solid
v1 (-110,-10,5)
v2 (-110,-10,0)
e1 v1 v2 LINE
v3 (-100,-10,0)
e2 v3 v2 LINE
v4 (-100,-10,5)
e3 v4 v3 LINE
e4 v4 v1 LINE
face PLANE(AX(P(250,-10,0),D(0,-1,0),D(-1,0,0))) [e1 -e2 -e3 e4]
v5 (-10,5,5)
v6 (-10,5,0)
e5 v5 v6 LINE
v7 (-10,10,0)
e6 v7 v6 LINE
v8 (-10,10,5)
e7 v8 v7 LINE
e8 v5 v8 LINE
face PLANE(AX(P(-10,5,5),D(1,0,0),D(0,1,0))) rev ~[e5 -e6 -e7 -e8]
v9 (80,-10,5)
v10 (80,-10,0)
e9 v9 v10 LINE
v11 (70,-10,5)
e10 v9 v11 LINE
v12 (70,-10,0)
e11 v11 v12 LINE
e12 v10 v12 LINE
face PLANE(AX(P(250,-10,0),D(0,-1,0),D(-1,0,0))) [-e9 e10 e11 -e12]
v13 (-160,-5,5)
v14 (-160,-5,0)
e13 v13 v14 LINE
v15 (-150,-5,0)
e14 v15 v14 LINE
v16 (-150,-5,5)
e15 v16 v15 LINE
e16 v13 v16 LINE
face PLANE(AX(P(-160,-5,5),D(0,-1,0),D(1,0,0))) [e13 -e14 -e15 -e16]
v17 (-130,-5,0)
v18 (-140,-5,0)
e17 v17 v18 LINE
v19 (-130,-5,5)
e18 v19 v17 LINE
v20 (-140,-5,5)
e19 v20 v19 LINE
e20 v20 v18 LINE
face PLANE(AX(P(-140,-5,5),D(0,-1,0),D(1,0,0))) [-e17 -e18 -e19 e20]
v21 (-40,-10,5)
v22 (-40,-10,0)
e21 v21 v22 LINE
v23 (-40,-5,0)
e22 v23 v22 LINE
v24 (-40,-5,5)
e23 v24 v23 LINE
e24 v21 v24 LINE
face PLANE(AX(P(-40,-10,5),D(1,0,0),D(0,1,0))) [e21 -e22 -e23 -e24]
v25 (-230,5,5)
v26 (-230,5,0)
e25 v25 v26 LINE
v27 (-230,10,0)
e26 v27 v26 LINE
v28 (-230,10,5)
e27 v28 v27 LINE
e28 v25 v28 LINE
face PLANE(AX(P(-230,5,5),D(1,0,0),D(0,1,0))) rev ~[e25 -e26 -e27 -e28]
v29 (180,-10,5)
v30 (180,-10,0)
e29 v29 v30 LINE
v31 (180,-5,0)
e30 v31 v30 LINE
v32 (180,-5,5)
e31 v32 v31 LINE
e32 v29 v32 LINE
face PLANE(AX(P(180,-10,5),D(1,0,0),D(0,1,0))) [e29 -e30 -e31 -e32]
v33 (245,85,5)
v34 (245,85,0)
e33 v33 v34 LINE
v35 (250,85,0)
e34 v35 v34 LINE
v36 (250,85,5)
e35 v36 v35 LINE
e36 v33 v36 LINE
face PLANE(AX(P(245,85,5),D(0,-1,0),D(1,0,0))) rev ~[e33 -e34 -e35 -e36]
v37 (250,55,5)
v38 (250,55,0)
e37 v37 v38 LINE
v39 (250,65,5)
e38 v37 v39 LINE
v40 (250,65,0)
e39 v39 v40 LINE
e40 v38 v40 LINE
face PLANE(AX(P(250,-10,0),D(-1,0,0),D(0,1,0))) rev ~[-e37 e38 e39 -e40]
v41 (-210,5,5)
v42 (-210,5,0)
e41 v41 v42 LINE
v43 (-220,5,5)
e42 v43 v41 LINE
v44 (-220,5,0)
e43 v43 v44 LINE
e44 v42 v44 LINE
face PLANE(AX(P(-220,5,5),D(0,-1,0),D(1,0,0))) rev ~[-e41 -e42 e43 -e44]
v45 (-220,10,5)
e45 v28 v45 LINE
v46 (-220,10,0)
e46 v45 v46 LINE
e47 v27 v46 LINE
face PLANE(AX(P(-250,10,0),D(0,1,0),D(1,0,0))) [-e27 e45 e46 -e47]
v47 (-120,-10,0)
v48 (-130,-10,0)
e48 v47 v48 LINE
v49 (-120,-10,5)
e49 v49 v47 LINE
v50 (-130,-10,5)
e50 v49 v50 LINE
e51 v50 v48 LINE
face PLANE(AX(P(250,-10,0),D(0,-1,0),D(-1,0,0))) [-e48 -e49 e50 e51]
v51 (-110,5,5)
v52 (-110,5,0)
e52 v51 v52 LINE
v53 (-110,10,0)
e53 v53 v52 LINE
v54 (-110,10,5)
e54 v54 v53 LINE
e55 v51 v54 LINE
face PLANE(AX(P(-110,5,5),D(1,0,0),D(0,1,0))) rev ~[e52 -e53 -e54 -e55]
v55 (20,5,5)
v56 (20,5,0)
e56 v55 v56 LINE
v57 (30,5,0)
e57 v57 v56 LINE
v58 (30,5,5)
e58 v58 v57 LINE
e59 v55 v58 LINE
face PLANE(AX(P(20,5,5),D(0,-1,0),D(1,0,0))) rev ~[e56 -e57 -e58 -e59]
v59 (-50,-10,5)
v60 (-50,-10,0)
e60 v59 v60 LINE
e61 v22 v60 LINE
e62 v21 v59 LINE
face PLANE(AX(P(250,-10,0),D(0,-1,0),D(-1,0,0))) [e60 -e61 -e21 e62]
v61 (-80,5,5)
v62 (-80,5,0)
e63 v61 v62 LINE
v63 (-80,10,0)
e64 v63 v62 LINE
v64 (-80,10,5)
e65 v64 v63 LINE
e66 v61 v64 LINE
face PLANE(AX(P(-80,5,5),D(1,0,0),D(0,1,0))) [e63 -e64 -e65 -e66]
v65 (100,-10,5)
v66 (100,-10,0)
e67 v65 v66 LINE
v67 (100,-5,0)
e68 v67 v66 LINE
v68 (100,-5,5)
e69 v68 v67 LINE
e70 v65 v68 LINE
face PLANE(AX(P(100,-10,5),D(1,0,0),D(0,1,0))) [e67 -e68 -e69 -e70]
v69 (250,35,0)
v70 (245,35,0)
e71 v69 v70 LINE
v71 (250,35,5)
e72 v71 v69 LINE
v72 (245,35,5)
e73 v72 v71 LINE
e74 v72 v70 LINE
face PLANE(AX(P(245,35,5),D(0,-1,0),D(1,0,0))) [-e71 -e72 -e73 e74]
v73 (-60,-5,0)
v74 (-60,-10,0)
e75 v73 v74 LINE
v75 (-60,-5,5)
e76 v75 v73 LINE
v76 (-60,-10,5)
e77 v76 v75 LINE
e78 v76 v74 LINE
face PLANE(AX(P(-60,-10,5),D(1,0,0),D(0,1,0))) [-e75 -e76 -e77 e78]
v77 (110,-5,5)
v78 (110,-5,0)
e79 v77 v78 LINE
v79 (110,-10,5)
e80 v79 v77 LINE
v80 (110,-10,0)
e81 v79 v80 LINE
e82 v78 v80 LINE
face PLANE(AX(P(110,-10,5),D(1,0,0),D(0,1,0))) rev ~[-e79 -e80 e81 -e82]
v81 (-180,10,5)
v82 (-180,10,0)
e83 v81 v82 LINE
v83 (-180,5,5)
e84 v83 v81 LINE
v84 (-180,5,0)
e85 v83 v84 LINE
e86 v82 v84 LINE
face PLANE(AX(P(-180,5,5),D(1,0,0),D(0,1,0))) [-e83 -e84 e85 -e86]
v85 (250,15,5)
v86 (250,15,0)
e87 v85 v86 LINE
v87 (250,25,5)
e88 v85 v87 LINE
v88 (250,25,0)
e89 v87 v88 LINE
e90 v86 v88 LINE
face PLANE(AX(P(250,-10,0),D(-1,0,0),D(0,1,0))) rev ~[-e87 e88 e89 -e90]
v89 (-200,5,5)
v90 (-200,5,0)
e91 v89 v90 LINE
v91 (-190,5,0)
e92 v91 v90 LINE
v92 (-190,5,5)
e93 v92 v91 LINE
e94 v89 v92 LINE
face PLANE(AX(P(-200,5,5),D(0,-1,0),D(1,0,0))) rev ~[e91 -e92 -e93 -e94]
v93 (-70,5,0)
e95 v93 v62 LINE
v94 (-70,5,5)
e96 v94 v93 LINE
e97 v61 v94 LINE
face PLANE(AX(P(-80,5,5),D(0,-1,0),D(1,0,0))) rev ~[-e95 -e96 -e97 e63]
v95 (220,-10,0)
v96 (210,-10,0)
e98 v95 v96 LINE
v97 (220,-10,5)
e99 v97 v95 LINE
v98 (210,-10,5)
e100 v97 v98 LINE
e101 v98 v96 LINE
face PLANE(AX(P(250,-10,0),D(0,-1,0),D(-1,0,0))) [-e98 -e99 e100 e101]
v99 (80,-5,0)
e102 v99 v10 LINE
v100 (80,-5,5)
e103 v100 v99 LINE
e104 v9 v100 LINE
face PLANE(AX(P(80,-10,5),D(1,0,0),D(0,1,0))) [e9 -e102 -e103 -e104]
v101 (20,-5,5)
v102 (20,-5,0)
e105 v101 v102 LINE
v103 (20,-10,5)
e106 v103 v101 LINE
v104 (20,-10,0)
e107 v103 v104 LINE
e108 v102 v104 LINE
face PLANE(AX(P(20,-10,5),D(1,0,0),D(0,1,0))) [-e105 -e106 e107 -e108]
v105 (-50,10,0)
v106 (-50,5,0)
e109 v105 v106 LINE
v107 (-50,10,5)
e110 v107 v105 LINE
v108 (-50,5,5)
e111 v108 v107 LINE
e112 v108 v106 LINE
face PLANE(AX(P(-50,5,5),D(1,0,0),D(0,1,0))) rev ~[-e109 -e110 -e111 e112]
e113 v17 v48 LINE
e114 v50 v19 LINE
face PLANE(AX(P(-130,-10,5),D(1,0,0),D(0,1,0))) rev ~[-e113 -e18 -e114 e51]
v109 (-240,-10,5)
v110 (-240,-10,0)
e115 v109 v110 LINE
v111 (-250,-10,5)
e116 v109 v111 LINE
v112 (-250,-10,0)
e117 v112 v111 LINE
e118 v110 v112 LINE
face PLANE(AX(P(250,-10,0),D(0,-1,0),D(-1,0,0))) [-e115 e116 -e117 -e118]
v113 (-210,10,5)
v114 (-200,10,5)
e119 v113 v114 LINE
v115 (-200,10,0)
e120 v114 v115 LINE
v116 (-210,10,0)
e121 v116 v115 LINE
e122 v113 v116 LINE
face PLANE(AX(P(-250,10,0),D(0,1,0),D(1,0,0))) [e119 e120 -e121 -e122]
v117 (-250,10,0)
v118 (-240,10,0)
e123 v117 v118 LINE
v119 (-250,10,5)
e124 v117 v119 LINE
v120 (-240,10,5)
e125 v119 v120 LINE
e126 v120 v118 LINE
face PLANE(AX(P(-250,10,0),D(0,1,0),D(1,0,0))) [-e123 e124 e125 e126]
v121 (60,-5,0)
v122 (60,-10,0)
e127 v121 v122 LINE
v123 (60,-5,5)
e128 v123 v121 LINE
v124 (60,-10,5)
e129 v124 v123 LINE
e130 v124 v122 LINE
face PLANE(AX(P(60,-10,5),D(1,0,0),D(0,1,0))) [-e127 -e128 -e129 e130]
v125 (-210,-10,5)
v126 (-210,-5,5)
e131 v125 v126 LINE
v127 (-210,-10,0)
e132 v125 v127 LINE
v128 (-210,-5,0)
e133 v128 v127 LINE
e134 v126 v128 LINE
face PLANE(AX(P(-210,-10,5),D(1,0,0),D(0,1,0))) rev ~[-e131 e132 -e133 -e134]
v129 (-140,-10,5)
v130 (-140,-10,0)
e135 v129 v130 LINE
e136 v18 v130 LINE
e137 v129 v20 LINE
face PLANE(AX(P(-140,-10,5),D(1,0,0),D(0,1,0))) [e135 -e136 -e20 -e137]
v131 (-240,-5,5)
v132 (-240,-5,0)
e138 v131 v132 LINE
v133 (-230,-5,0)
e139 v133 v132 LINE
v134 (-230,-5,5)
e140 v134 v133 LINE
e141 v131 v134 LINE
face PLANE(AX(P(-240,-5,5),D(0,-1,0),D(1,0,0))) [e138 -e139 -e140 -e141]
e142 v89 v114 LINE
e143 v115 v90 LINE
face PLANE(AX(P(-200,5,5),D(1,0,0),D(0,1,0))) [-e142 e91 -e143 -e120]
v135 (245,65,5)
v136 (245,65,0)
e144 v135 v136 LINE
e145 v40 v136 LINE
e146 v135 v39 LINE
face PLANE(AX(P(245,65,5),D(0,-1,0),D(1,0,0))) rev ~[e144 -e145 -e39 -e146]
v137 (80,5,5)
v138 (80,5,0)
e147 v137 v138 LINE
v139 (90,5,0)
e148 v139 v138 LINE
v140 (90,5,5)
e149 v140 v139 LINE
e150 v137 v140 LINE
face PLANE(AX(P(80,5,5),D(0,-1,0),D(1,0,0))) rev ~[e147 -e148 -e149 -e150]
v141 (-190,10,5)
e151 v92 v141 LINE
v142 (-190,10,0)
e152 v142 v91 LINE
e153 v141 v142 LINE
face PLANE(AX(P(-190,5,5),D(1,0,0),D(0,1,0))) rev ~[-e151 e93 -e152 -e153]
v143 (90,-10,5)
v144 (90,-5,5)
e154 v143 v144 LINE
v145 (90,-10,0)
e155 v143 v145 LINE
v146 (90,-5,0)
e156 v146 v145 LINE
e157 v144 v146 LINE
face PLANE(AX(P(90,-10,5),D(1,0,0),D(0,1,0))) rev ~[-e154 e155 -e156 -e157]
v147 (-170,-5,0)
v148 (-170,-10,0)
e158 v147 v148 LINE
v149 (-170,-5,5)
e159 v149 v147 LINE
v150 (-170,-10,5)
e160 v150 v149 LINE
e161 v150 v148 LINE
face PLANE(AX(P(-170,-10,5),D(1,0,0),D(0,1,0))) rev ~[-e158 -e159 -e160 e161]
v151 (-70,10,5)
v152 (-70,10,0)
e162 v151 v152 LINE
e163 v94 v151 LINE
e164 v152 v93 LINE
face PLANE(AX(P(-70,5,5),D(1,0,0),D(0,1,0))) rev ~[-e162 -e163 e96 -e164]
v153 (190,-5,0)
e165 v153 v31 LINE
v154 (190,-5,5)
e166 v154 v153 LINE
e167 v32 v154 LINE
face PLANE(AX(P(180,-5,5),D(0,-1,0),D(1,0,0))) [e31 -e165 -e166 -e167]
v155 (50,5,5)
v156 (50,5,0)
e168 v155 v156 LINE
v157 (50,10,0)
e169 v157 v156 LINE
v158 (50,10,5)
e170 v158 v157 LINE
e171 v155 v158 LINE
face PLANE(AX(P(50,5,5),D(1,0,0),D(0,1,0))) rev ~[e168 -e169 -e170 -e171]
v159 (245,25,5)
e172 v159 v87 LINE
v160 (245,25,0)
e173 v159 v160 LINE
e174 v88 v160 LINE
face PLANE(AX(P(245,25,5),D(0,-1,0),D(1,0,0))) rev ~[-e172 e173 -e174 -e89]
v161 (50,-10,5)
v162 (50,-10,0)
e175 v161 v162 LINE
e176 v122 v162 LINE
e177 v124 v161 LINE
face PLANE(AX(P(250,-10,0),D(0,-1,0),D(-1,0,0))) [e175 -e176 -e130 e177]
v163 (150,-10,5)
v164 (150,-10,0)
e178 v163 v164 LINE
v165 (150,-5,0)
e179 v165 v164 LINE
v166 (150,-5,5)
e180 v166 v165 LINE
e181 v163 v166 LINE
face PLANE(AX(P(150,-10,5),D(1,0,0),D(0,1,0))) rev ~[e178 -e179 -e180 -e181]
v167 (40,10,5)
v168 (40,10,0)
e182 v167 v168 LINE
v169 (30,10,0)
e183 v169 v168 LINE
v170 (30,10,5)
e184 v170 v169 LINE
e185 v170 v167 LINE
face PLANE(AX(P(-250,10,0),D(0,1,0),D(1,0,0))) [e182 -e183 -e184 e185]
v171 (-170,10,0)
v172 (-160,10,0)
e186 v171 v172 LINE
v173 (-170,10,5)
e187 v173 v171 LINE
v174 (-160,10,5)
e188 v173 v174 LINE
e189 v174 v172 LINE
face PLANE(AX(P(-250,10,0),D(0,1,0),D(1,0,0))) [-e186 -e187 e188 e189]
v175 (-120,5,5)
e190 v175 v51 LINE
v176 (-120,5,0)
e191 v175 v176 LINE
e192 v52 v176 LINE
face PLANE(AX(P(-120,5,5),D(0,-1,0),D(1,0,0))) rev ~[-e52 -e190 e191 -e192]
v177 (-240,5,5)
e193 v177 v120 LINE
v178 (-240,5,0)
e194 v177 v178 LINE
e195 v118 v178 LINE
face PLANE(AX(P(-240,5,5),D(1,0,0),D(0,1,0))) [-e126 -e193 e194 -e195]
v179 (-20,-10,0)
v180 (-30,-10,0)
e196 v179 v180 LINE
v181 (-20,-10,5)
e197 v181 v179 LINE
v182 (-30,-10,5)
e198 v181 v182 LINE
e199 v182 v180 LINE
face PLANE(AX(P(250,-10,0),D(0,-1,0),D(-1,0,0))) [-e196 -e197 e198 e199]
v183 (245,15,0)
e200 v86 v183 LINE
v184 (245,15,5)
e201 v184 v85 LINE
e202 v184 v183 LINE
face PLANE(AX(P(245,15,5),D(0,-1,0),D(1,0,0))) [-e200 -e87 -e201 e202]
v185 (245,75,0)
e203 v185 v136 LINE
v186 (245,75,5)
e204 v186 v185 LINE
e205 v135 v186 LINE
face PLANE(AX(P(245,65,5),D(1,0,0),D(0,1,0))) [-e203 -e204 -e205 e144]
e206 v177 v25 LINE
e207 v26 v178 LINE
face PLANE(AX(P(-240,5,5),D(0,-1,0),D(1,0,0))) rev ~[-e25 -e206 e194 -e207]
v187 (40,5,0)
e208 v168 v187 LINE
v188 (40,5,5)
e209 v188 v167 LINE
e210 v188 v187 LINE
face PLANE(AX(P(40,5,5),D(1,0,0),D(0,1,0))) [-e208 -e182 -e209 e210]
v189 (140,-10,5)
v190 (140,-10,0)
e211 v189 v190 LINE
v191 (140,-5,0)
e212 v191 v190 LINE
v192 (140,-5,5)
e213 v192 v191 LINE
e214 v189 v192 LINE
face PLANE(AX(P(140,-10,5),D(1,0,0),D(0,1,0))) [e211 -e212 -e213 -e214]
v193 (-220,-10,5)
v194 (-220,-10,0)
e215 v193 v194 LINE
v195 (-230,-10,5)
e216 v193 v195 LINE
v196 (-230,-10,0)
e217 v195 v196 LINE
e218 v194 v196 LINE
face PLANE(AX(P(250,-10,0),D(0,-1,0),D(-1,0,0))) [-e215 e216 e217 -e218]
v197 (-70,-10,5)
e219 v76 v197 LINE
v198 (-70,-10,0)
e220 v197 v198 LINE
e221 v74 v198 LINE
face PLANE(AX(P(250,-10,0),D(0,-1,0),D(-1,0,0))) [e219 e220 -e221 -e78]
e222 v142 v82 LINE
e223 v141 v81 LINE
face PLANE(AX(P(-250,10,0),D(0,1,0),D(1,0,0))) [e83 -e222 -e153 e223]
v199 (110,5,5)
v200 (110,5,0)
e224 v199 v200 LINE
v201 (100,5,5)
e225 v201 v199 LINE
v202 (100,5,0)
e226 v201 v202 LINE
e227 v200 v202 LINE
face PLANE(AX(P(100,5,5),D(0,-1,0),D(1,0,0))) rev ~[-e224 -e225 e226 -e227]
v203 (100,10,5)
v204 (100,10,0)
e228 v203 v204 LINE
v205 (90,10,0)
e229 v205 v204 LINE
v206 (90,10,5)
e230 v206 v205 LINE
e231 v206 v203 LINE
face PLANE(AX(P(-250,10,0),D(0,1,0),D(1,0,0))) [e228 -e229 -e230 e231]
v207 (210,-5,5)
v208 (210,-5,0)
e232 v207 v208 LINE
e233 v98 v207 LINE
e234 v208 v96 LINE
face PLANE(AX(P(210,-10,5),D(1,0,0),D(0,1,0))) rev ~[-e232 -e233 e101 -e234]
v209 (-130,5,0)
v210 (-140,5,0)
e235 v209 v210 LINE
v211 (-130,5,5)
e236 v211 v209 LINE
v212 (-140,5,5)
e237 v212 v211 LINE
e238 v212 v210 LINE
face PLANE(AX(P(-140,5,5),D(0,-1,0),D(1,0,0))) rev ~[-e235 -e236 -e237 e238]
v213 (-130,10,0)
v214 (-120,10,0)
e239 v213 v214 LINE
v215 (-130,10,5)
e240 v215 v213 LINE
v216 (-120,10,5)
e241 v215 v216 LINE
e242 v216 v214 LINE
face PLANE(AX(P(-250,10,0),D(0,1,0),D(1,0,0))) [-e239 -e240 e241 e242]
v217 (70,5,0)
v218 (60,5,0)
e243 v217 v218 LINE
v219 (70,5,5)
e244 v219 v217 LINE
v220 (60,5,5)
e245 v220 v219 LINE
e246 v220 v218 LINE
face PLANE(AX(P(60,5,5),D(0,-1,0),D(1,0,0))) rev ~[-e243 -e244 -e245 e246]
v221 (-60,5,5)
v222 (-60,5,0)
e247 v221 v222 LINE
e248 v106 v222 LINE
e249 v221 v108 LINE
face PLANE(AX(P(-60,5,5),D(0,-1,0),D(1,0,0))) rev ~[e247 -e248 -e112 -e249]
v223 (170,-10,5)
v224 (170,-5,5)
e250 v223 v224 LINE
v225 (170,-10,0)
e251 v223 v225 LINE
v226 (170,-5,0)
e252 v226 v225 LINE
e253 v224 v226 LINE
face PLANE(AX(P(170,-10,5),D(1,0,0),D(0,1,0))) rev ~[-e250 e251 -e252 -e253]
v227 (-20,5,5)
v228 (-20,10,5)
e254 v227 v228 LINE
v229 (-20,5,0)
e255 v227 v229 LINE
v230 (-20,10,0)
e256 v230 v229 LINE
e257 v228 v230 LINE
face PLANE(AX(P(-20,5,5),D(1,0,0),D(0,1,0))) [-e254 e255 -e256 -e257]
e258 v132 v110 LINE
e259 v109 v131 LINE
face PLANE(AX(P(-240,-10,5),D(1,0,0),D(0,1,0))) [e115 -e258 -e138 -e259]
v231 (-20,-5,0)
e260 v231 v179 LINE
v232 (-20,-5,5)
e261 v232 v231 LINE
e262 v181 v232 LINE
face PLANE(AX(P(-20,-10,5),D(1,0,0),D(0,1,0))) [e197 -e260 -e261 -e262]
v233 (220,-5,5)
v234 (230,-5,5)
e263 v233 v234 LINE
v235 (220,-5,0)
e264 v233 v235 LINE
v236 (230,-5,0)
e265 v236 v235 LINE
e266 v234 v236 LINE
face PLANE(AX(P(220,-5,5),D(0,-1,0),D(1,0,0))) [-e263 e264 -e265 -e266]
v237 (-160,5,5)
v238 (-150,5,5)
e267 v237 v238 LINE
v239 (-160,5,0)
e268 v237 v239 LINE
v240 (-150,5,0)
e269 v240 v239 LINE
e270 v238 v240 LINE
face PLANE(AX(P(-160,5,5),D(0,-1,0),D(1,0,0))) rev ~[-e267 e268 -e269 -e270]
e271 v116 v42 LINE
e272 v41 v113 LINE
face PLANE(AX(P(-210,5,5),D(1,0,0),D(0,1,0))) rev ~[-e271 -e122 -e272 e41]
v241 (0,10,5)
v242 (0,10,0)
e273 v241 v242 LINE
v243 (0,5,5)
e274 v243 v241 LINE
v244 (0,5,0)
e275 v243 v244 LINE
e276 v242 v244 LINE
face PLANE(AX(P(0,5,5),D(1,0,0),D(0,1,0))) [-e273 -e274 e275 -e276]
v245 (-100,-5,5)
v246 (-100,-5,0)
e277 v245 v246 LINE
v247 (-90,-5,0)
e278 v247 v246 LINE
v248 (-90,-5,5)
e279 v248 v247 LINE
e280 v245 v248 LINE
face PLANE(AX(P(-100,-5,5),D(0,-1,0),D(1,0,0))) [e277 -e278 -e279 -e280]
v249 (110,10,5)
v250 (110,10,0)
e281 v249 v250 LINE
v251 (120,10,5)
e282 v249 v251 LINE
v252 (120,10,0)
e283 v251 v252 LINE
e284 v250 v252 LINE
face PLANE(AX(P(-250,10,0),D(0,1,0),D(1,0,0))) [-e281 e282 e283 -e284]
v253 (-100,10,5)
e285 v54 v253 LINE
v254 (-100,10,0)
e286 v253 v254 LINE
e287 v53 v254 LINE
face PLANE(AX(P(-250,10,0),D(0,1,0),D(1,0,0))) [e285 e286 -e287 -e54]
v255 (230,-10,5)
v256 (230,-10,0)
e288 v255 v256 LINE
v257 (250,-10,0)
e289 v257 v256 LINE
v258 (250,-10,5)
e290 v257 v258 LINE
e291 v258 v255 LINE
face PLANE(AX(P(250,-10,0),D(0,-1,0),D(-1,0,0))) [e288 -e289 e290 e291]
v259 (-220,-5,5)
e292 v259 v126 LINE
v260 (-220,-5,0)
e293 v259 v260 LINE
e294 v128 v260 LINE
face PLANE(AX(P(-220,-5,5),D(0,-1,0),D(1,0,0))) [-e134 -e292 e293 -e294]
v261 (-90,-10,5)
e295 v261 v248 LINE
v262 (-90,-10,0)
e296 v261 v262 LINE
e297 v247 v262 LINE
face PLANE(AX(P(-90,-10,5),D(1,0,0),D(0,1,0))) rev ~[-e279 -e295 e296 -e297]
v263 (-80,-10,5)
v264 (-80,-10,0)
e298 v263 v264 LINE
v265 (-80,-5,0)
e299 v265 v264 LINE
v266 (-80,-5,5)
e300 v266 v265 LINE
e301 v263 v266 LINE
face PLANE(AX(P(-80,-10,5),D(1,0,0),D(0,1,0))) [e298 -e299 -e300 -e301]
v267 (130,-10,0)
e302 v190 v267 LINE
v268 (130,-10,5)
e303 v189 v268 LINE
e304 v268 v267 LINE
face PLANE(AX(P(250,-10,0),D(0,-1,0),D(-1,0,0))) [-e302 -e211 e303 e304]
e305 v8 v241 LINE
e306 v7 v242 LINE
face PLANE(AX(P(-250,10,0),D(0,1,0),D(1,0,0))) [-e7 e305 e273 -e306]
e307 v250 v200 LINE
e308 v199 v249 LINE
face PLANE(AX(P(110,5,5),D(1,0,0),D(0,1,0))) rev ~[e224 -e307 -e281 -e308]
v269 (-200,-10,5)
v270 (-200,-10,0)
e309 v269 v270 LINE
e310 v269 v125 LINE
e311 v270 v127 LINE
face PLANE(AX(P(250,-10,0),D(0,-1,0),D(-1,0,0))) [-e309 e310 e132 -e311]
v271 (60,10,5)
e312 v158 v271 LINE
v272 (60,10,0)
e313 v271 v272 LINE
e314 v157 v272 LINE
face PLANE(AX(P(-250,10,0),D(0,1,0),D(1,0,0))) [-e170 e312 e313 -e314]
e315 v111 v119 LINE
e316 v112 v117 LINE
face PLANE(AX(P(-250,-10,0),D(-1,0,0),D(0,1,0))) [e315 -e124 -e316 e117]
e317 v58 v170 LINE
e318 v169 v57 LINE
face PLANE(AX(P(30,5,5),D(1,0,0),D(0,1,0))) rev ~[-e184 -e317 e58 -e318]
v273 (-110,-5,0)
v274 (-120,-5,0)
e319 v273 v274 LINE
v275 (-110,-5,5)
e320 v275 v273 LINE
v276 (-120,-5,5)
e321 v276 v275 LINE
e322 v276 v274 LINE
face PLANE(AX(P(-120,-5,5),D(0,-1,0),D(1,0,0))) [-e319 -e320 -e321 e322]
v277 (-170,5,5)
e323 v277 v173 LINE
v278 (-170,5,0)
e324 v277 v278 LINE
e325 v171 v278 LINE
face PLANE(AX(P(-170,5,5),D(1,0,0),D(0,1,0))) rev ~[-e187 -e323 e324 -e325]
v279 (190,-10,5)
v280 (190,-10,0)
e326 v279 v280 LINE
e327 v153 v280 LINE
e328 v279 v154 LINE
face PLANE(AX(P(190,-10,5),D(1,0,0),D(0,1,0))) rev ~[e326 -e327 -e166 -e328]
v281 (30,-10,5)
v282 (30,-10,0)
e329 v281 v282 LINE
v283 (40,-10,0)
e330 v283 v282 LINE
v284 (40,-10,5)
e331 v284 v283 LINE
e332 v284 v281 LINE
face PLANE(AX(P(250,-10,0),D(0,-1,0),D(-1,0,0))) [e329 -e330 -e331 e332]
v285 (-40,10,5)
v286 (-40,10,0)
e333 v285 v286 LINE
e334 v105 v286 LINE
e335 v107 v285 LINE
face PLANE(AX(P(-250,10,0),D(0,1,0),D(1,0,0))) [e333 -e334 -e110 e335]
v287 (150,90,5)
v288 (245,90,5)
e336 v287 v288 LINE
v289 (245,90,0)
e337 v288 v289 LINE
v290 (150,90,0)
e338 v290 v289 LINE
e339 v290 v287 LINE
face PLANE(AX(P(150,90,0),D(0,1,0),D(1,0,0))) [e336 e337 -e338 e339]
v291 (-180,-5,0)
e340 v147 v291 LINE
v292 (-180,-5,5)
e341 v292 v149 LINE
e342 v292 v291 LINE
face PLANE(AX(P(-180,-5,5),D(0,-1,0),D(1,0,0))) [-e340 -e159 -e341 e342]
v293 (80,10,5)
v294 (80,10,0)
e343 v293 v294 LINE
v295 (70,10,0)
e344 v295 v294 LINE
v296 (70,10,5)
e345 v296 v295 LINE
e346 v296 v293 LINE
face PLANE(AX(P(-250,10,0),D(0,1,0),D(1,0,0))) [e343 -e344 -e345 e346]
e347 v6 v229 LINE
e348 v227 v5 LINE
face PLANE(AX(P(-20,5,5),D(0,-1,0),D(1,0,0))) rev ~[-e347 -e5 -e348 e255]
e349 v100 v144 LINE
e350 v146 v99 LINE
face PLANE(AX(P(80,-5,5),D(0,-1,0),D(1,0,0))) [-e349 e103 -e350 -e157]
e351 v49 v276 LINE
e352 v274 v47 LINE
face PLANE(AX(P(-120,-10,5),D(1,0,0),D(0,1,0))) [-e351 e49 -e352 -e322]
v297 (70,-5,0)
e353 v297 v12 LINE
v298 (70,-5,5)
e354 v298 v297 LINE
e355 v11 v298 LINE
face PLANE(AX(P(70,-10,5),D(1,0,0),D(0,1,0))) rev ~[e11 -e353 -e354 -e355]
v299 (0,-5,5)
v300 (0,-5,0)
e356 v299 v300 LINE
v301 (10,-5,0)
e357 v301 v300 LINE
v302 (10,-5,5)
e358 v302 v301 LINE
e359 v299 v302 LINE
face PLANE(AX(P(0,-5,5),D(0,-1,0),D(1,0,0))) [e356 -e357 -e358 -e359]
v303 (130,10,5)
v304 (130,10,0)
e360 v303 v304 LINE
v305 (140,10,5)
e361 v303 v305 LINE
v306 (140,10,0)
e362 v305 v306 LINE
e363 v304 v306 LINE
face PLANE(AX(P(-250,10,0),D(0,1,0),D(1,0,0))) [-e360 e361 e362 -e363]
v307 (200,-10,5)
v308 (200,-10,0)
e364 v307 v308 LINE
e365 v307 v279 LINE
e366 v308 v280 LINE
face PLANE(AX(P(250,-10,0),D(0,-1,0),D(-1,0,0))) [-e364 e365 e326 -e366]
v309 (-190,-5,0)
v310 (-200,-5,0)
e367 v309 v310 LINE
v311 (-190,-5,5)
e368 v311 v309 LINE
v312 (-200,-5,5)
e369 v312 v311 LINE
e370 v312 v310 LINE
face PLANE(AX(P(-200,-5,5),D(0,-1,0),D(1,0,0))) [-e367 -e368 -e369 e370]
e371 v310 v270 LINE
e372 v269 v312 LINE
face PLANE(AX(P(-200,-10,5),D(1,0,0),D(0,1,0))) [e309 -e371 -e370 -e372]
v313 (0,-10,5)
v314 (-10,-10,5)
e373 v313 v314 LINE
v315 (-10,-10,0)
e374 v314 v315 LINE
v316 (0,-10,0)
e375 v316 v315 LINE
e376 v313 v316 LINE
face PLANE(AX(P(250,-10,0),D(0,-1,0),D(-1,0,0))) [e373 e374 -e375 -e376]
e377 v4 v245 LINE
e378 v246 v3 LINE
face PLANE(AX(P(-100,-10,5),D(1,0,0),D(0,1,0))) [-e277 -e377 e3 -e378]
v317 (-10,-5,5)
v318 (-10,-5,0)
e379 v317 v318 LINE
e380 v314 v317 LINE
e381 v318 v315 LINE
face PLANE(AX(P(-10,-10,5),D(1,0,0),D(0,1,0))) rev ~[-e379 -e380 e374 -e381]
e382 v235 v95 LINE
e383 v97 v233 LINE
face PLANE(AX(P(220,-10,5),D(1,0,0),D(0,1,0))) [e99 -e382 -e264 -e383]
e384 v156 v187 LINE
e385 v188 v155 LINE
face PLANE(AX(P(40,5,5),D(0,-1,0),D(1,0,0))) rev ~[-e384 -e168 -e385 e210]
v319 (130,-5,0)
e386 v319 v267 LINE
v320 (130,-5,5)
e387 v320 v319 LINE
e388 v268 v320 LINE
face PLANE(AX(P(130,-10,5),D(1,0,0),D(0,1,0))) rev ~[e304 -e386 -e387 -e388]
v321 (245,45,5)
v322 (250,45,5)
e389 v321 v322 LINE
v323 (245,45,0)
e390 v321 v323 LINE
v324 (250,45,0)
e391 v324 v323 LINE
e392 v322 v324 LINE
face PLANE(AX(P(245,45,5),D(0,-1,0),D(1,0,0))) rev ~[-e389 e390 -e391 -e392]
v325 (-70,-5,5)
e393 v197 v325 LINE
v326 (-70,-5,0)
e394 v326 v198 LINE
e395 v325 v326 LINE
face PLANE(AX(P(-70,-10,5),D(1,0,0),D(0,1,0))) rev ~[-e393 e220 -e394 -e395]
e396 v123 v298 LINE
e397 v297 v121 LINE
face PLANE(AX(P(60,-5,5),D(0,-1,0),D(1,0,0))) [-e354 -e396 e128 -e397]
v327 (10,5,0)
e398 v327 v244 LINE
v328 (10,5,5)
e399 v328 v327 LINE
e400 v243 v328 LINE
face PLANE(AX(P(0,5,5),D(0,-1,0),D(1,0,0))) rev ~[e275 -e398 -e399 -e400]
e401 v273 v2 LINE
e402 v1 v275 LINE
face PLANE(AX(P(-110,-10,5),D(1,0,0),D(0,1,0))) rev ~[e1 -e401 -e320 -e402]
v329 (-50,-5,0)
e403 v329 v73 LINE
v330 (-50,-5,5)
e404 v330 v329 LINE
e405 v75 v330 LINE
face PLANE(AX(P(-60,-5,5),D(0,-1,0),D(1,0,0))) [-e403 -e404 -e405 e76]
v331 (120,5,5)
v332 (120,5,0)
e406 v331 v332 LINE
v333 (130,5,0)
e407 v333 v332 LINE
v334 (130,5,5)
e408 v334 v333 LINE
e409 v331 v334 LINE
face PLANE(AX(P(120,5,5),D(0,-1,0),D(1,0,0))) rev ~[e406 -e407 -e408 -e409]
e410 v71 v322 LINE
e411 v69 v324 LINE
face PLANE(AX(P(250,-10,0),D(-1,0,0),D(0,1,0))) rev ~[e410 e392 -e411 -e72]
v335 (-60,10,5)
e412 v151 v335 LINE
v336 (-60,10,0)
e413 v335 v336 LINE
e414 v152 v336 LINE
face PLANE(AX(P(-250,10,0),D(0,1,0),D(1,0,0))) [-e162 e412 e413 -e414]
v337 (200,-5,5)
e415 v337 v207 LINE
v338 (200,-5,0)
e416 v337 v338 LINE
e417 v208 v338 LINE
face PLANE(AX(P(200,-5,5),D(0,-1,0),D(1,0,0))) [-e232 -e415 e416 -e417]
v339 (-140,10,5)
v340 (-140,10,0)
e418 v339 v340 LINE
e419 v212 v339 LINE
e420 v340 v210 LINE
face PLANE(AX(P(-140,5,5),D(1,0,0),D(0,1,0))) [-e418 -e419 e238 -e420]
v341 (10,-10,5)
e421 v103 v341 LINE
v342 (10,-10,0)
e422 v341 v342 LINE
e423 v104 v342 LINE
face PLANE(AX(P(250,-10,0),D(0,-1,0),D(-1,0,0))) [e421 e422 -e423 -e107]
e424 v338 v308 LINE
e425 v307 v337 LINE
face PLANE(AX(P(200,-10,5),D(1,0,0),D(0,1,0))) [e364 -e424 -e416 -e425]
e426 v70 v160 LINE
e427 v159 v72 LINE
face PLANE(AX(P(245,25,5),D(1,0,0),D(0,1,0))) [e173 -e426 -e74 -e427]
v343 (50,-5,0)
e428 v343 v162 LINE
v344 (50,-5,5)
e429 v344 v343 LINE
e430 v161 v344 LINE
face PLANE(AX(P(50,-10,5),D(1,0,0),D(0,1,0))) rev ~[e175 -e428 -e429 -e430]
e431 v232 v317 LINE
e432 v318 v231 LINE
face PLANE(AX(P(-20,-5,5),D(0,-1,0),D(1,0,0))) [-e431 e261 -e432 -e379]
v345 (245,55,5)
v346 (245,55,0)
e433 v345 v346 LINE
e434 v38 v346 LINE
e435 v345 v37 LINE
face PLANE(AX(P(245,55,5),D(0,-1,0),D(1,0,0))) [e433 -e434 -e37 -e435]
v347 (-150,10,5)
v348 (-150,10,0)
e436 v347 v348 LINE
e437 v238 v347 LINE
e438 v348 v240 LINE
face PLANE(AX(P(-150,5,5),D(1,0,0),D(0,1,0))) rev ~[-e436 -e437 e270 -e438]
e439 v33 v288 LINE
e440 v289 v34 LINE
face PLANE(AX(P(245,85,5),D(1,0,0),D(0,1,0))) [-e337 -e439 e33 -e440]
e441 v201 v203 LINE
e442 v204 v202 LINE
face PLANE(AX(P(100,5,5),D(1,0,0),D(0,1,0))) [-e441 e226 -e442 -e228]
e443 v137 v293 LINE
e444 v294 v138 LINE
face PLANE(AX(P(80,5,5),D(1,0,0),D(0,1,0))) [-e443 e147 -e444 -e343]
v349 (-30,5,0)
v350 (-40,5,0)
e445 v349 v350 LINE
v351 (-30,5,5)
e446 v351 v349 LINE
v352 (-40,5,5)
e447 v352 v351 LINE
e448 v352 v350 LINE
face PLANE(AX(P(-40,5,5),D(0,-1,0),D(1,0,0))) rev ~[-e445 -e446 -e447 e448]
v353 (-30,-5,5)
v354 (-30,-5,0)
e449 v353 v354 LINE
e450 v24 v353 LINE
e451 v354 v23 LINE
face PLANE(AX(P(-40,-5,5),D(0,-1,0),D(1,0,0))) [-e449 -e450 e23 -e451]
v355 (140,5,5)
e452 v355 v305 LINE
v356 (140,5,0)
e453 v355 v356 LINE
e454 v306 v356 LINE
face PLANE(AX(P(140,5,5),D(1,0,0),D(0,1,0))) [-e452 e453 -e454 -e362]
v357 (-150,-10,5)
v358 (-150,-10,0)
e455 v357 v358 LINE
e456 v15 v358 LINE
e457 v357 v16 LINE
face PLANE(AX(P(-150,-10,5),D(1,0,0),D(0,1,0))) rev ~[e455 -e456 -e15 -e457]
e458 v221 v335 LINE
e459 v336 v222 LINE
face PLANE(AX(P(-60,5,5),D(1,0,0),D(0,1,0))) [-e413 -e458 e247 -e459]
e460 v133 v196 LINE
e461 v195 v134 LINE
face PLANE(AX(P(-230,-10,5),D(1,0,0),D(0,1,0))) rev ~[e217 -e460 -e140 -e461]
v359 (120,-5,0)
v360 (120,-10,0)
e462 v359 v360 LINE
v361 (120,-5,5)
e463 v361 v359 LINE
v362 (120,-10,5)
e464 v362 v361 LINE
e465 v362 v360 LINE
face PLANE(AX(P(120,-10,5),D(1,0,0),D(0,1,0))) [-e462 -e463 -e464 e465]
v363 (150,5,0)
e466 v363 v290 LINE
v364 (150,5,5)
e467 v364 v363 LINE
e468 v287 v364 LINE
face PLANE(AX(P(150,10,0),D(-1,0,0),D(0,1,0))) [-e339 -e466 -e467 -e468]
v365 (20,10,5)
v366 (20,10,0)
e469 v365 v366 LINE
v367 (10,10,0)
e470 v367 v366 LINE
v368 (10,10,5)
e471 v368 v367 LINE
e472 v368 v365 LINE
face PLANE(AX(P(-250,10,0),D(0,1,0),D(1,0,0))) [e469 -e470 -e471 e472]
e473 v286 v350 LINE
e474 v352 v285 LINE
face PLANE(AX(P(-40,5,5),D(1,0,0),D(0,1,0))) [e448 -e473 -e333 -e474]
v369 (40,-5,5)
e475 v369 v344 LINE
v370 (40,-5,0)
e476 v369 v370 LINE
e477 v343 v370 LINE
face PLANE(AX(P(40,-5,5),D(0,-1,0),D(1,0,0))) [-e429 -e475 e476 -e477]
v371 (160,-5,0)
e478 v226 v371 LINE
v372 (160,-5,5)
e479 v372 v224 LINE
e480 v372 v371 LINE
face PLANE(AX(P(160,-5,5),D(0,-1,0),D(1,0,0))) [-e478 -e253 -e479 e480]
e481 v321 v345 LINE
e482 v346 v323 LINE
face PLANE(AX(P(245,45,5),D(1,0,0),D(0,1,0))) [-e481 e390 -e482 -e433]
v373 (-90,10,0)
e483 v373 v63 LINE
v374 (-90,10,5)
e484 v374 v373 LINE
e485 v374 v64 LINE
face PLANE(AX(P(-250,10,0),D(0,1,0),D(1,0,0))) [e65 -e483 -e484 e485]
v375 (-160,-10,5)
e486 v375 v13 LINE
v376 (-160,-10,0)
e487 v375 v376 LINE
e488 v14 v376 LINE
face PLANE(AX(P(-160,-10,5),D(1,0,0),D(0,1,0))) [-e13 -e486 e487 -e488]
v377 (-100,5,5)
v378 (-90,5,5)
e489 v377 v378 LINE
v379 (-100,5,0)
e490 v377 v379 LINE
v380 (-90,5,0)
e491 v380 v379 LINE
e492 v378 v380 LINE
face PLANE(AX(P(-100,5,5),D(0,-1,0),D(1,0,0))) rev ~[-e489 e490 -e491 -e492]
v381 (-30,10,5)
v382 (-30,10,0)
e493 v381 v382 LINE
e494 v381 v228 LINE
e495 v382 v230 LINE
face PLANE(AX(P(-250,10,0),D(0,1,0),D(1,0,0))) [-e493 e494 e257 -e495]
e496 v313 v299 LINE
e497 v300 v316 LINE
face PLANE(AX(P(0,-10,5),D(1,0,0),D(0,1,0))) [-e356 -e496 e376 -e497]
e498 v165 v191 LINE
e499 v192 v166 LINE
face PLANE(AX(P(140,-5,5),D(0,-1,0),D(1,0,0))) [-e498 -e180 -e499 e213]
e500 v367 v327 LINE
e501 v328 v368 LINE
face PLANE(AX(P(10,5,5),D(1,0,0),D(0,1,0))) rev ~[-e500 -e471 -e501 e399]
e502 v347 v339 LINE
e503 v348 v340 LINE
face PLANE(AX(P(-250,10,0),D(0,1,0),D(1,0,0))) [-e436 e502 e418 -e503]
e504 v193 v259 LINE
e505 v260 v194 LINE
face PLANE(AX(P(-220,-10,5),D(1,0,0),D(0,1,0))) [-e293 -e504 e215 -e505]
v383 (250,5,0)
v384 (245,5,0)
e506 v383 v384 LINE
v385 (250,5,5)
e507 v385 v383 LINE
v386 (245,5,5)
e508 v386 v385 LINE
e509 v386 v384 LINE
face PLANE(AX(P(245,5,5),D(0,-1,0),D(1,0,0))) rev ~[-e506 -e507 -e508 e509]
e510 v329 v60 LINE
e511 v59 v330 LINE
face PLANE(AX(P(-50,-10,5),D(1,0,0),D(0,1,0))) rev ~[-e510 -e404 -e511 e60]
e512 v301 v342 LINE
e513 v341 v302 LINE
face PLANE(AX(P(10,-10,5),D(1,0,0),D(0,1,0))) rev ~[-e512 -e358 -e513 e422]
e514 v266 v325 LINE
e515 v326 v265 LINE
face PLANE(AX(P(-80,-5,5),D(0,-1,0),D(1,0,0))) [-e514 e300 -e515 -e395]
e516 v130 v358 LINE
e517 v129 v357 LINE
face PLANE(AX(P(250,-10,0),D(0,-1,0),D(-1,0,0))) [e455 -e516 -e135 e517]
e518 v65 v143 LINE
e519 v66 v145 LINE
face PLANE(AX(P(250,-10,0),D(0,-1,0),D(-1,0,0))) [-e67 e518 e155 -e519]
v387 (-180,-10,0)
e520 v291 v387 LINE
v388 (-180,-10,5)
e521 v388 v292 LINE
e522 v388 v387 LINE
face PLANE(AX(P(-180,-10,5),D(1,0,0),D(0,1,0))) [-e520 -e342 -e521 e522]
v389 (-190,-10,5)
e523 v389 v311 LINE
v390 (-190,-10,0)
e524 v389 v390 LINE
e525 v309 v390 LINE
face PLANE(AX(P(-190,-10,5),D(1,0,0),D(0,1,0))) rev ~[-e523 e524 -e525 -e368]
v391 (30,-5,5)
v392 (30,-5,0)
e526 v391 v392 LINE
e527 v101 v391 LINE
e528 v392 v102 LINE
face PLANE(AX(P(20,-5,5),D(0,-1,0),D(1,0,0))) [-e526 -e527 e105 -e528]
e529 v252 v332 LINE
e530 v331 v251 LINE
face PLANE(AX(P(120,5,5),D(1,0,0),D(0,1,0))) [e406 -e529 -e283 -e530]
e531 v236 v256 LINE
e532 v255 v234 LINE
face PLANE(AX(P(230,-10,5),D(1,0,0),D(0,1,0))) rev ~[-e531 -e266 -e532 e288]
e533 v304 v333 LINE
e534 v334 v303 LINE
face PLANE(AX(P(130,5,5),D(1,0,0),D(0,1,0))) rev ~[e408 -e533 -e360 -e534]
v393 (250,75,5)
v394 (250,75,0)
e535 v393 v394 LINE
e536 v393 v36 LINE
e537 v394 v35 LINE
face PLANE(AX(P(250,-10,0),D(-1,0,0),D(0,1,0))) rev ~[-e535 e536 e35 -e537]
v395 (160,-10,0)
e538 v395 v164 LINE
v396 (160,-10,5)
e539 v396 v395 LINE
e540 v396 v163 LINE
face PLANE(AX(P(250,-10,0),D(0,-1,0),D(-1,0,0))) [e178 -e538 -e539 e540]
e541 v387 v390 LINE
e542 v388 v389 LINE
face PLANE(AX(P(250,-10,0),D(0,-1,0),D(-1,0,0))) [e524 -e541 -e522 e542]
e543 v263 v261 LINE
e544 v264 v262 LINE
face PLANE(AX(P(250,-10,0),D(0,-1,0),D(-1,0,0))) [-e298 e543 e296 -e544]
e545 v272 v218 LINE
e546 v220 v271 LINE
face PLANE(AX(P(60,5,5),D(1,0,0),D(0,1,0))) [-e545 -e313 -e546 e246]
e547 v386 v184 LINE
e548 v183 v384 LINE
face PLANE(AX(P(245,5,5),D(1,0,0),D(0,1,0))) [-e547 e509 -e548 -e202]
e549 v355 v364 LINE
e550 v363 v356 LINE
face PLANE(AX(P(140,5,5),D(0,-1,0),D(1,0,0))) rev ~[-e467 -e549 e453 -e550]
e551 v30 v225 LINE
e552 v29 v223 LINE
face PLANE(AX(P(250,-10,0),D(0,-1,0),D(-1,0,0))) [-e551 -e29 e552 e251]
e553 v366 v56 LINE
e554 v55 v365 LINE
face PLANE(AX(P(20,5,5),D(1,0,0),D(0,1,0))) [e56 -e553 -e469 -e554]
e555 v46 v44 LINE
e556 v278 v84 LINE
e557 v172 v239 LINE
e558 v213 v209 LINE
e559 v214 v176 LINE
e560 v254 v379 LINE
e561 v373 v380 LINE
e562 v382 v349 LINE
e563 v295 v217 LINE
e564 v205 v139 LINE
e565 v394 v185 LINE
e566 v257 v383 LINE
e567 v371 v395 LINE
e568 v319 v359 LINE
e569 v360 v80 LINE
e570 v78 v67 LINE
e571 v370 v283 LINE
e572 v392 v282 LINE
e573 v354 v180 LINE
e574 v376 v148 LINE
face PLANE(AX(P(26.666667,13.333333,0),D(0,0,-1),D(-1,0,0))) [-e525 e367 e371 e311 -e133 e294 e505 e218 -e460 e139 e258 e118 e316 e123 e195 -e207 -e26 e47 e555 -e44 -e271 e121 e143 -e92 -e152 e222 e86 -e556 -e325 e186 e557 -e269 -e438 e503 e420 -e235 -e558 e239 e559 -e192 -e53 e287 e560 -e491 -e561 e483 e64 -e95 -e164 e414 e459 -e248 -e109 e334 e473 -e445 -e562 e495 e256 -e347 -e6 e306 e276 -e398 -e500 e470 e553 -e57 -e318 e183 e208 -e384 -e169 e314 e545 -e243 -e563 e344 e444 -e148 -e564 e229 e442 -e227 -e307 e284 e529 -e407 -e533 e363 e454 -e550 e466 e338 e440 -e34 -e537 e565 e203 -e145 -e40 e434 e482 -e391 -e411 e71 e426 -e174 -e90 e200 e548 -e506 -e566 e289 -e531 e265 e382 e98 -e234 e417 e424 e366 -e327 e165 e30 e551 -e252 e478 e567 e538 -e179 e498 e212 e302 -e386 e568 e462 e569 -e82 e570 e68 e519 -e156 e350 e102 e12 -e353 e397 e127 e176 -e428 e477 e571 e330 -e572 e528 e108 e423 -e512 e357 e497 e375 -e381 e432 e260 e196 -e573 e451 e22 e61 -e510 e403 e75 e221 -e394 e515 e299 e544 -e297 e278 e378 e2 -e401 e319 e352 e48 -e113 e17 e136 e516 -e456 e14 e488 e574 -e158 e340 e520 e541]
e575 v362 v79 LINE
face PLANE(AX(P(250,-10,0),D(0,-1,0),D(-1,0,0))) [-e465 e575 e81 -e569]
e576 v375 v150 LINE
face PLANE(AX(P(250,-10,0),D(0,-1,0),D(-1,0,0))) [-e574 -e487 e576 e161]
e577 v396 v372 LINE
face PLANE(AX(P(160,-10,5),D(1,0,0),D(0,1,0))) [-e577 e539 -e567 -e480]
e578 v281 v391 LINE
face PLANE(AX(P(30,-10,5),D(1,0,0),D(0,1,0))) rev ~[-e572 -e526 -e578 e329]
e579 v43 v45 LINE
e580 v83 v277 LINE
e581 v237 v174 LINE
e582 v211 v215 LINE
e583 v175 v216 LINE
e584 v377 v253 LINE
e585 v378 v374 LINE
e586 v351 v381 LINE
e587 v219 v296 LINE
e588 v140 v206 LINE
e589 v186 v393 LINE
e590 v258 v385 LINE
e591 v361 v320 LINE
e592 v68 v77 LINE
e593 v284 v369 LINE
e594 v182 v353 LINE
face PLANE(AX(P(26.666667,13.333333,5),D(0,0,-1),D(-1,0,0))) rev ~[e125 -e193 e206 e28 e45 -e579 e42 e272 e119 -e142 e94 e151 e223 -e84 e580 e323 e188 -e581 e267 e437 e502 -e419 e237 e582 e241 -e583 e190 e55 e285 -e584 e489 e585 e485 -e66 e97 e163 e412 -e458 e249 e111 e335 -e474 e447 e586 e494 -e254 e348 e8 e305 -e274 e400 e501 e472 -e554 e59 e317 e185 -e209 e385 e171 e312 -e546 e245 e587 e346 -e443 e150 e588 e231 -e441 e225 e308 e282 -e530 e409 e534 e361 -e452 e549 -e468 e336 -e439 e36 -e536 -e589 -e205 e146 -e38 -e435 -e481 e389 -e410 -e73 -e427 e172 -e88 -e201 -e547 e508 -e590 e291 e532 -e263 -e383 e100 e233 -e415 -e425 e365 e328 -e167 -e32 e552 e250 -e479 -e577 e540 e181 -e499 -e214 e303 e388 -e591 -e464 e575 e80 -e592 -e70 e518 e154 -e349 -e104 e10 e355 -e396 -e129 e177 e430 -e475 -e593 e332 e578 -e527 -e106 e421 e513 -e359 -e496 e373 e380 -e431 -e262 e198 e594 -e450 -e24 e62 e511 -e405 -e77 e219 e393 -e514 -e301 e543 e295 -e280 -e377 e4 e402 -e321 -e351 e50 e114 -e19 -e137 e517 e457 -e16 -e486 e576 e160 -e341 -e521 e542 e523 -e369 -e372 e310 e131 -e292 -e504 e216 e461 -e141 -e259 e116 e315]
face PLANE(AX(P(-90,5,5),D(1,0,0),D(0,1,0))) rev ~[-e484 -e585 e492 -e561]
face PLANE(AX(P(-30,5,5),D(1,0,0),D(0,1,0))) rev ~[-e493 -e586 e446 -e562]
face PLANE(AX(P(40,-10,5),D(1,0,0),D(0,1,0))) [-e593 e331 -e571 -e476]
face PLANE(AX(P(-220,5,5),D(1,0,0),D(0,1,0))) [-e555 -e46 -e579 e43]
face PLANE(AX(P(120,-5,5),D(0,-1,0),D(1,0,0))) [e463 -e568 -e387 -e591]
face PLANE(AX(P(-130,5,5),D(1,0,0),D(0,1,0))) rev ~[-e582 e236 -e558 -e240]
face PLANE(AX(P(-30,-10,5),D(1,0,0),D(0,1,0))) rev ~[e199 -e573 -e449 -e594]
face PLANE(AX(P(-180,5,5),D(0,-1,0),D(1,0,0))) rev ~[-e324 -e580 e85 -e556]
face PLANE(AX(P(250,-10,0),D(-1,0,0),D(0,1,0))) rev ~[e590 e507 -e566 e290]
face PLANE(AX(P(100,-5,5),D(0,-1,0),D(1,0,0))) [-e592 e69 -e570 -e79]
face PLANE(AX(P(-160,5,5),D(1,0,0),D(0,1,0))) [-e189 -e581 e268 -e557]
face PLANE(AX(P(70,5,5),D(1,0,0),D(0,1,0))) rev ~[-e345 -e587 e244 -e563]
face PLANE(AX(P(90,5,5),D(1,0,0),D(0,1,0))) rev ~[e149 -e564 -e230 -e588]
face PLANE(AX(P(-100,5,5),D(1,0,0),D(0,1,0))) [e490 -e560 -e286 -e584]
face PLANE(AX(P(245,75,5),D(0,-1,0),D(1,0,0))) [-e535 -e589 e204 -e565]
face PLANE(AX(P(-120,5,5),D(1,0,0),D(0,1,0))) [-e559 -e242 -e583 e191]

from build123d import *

# Parameters (mm, degrees)
BOSS_EXTRU_1_DEPTH      = 5
ESQUISSE2_W             = 10
ESQUISSE2_H             = 5
ESQUISSE2_W_2           = 5
ESQUISSE2_H_2           = 10
ENL_V_MAT_EXTRU_2_DEPTH = 266.753645318


with BuildPart() as part:
    # Esquisse1 → Boss.-Extru.1 (new body)
    with BuildSketch(Plane.XY):
        Polygon((-250, 10), (150, 10), (150, 90), (250, 90), (250, 10), (250, -10), (-250, -10), align=None)
    extrude(amount=BOSS_EXTRU_1_DEPTH)

    # Esquisse2 → Enlèv. mat.-Extru.2 (cut, through all)
    with BuildSketch(Plane.XY.offset(5)):
        with Locations((-235, 7.5)):
            Rectangle(ESQUISSE2_W, ESQUISSE2_H)
        with Locations((-235, -7.5)):
            Rectangle(ESQUISSE2_W, ESQUISSE2_H)
        with Locations((-215, 7.5)):
            Rectangle(ESQUISSE2_W, ESQUISSE2_H)
        with Locations((-215, -7.5)):
            Rectangle(ESQUISSE2_W, ESQUISSE2_H)
        with Locations((-195, 7.5)):
            Rectangle(ESQUISSE2_W, ESQUISSE2_H)
        with Locations((-195, -7.5)):
            Rectangle(ESQUISSE2_W, ESQUISSE2_H)
        with Locations((-175, 7.5)):
            Rectangle(ESQUISSE2_W, ESQUISSE2_H)
        with Locations((-175, -7.5)):
            Rectangle(ESQUISSE2_W, ESQUISSE2_H)
        with Locations((-155, 7.5)):
            Rectangle(ESQUISSE2_W, ESQUISSE2_H)
        with Locations((-155, -7.5)):
            Rectangle(ESQUISSE2_W, ESQUISSE2_H)
        with Locations((-135, 7.5)):
            Rectangle(ESQUISSE2_W, ESQUISSE2_H)
        with Locations((-135, -7.5)):
            Rectangle(ESQUISSE2_W, ESQUISSE2_H)
        with Locations((-115, 7.5)):
            Rectangle(ESQUISSE2_W, ESQUISSE2_H)
        with Locations((-115, -7.5)):
            Rectangle(ESQUISSE2_W, ESQUISSE2_H)
        with Locations((-95, 7.5)):
            Rectangle(ESQUISSE2_W, ESQUISSE2_H)
        with Locations((-95, -7.5)):
            Rectangle(ESQUISSE2_W, ESQUISSE2_H)
        with Locations((-75, 7.5)):
            Rectangle(ESQUISSE2_W, ESQUISSE2_H)
        with Locations((-75, -7.5)):
            Rectangle(ESQUISSE2_W, ESQUISSE2_H)
        with Locations((-55, 7.5)):
            Rectangle(ESQUISSE2_W, ESQUISSE2_H)
        with Locations((-55, -7.5)):
            Rectangle(ESQUISSE2_W, ESQUISSE2_H)
        with Locations((-35, 7.5)):
            Rectangle(ESQUISSE2_W, ESQUISSE2_H)
        with Locations((-35, -7.5)):
            Rectangle(ESQUISSE2_W, ESQUISSE2_H)
        with Locations((-15, 7.5)):
            Rectangle(ESQUISSE2_W, ESQUISSE2_H)
        with Locations((-15, -7.5)):
            Rectangle(ESQUISSE2_W, ESQUISSE2_H)
        with Locations((5, 7.5)):
            Rectangle(ESQUISSE2_W, ESQUISSE2_H)
        with Locations((5, -7.5)):
            Rectangle(ESQUISSE2_W, ESQUISSE2_H)
        with Locations((25, 7.5)):
            Rectangle(ESQUISSE2_W, ESQUISSE2_H)
        with Locations((25, -7.5)):
            Rectangle(ESQUISSE2_W, ESQUISSE2_H)
        with Locations((45, 7.5)):
            Rectangle(ESQUISSE2_W, ESQUISSE2_H)
        with Locations((45, -7.5)):
            Rectangle(ESQUISSE2_W, ESQUISSE2_H)
        with Locations((65, 7.5)):
            Rectangle(ESQUISSE2_W, ESQUISSE2_H)
        with Locations((65, -7.5)):
            Rectangle(ESQUISSE2_W, ESQUISSE2_H)
        with Locations((85, 7.5)):
            Rectangle(ESQUISSE2_W, ESQUISSE2_H)
        with Locations((85, -7.5)):
            Rectangle(ESQUISSE2_W, ESQUISSE2_H)
        with Locations((105, 7.5)):
            Rectangle(ESQUISSE2_W, ESQUISSE2_H)
        with Locations((105, -7.5)):
            Rectangle(ESQUISSE2_W, ESQUISSE2_H)
        with Locations((125, 7.5)):
            Rectangle(ESQUISSE2_W, ESQUISSE2_H)
        with Locations((125, -7.5)):
            Rectangle(ESQUISSE2_W, ESQUISSE2_H)
        with Locations((145, 7.5)):
            Rectangle(ESQUISSE2_W, ESQUISSE2_H)
        with Locations((145, -7.5)):
            Rectangle(ESQUISSE2_W, ESQUISSE2_H)
        with Locations((165, -7.5)):
            Rectangle(ESQUISSE2_W, ESQUISSE2_H)
        with Locations((185, -7.5)):
            Rectangle(ESQUISSE2_W, ESQUISSE2_H)
        with Locations((205, -7.5)):
            Rectangle(ESQUISSE2_W, ESQUISSE2_H)
        with Locations((225, -7.5)):
            Rectangle(ESQUISSE2_W, ESQUISSE2_H)
        with Locations((247.5, 10)):
            Rectangle(ESQUISSE2_W_2, ESQUISSE2_H_2)
        with Locations((247.5, 30)):
            Rectangle(ESQUISSE2_W_2, ESQUISSE2_H_2)
        with Locations((247.5, 50)):
            Rectangle(ESQUISSE2_W_2, ESQUISSE2_H_2)
        with Locations((247.5, 70)):
            Rectangle(ESQUISSE2_W_2, ESQUISSE2_H_2)
        with Locations((247.5, 90)):
            Rectangle(ESQUISSE2_W_2, ESQUISSE2_H_2)
    extrude(amount=-ENL_V_MAT_EXTRU_2_DEPTH, mode=Mode.SUBTRACT)


solid = part.part
